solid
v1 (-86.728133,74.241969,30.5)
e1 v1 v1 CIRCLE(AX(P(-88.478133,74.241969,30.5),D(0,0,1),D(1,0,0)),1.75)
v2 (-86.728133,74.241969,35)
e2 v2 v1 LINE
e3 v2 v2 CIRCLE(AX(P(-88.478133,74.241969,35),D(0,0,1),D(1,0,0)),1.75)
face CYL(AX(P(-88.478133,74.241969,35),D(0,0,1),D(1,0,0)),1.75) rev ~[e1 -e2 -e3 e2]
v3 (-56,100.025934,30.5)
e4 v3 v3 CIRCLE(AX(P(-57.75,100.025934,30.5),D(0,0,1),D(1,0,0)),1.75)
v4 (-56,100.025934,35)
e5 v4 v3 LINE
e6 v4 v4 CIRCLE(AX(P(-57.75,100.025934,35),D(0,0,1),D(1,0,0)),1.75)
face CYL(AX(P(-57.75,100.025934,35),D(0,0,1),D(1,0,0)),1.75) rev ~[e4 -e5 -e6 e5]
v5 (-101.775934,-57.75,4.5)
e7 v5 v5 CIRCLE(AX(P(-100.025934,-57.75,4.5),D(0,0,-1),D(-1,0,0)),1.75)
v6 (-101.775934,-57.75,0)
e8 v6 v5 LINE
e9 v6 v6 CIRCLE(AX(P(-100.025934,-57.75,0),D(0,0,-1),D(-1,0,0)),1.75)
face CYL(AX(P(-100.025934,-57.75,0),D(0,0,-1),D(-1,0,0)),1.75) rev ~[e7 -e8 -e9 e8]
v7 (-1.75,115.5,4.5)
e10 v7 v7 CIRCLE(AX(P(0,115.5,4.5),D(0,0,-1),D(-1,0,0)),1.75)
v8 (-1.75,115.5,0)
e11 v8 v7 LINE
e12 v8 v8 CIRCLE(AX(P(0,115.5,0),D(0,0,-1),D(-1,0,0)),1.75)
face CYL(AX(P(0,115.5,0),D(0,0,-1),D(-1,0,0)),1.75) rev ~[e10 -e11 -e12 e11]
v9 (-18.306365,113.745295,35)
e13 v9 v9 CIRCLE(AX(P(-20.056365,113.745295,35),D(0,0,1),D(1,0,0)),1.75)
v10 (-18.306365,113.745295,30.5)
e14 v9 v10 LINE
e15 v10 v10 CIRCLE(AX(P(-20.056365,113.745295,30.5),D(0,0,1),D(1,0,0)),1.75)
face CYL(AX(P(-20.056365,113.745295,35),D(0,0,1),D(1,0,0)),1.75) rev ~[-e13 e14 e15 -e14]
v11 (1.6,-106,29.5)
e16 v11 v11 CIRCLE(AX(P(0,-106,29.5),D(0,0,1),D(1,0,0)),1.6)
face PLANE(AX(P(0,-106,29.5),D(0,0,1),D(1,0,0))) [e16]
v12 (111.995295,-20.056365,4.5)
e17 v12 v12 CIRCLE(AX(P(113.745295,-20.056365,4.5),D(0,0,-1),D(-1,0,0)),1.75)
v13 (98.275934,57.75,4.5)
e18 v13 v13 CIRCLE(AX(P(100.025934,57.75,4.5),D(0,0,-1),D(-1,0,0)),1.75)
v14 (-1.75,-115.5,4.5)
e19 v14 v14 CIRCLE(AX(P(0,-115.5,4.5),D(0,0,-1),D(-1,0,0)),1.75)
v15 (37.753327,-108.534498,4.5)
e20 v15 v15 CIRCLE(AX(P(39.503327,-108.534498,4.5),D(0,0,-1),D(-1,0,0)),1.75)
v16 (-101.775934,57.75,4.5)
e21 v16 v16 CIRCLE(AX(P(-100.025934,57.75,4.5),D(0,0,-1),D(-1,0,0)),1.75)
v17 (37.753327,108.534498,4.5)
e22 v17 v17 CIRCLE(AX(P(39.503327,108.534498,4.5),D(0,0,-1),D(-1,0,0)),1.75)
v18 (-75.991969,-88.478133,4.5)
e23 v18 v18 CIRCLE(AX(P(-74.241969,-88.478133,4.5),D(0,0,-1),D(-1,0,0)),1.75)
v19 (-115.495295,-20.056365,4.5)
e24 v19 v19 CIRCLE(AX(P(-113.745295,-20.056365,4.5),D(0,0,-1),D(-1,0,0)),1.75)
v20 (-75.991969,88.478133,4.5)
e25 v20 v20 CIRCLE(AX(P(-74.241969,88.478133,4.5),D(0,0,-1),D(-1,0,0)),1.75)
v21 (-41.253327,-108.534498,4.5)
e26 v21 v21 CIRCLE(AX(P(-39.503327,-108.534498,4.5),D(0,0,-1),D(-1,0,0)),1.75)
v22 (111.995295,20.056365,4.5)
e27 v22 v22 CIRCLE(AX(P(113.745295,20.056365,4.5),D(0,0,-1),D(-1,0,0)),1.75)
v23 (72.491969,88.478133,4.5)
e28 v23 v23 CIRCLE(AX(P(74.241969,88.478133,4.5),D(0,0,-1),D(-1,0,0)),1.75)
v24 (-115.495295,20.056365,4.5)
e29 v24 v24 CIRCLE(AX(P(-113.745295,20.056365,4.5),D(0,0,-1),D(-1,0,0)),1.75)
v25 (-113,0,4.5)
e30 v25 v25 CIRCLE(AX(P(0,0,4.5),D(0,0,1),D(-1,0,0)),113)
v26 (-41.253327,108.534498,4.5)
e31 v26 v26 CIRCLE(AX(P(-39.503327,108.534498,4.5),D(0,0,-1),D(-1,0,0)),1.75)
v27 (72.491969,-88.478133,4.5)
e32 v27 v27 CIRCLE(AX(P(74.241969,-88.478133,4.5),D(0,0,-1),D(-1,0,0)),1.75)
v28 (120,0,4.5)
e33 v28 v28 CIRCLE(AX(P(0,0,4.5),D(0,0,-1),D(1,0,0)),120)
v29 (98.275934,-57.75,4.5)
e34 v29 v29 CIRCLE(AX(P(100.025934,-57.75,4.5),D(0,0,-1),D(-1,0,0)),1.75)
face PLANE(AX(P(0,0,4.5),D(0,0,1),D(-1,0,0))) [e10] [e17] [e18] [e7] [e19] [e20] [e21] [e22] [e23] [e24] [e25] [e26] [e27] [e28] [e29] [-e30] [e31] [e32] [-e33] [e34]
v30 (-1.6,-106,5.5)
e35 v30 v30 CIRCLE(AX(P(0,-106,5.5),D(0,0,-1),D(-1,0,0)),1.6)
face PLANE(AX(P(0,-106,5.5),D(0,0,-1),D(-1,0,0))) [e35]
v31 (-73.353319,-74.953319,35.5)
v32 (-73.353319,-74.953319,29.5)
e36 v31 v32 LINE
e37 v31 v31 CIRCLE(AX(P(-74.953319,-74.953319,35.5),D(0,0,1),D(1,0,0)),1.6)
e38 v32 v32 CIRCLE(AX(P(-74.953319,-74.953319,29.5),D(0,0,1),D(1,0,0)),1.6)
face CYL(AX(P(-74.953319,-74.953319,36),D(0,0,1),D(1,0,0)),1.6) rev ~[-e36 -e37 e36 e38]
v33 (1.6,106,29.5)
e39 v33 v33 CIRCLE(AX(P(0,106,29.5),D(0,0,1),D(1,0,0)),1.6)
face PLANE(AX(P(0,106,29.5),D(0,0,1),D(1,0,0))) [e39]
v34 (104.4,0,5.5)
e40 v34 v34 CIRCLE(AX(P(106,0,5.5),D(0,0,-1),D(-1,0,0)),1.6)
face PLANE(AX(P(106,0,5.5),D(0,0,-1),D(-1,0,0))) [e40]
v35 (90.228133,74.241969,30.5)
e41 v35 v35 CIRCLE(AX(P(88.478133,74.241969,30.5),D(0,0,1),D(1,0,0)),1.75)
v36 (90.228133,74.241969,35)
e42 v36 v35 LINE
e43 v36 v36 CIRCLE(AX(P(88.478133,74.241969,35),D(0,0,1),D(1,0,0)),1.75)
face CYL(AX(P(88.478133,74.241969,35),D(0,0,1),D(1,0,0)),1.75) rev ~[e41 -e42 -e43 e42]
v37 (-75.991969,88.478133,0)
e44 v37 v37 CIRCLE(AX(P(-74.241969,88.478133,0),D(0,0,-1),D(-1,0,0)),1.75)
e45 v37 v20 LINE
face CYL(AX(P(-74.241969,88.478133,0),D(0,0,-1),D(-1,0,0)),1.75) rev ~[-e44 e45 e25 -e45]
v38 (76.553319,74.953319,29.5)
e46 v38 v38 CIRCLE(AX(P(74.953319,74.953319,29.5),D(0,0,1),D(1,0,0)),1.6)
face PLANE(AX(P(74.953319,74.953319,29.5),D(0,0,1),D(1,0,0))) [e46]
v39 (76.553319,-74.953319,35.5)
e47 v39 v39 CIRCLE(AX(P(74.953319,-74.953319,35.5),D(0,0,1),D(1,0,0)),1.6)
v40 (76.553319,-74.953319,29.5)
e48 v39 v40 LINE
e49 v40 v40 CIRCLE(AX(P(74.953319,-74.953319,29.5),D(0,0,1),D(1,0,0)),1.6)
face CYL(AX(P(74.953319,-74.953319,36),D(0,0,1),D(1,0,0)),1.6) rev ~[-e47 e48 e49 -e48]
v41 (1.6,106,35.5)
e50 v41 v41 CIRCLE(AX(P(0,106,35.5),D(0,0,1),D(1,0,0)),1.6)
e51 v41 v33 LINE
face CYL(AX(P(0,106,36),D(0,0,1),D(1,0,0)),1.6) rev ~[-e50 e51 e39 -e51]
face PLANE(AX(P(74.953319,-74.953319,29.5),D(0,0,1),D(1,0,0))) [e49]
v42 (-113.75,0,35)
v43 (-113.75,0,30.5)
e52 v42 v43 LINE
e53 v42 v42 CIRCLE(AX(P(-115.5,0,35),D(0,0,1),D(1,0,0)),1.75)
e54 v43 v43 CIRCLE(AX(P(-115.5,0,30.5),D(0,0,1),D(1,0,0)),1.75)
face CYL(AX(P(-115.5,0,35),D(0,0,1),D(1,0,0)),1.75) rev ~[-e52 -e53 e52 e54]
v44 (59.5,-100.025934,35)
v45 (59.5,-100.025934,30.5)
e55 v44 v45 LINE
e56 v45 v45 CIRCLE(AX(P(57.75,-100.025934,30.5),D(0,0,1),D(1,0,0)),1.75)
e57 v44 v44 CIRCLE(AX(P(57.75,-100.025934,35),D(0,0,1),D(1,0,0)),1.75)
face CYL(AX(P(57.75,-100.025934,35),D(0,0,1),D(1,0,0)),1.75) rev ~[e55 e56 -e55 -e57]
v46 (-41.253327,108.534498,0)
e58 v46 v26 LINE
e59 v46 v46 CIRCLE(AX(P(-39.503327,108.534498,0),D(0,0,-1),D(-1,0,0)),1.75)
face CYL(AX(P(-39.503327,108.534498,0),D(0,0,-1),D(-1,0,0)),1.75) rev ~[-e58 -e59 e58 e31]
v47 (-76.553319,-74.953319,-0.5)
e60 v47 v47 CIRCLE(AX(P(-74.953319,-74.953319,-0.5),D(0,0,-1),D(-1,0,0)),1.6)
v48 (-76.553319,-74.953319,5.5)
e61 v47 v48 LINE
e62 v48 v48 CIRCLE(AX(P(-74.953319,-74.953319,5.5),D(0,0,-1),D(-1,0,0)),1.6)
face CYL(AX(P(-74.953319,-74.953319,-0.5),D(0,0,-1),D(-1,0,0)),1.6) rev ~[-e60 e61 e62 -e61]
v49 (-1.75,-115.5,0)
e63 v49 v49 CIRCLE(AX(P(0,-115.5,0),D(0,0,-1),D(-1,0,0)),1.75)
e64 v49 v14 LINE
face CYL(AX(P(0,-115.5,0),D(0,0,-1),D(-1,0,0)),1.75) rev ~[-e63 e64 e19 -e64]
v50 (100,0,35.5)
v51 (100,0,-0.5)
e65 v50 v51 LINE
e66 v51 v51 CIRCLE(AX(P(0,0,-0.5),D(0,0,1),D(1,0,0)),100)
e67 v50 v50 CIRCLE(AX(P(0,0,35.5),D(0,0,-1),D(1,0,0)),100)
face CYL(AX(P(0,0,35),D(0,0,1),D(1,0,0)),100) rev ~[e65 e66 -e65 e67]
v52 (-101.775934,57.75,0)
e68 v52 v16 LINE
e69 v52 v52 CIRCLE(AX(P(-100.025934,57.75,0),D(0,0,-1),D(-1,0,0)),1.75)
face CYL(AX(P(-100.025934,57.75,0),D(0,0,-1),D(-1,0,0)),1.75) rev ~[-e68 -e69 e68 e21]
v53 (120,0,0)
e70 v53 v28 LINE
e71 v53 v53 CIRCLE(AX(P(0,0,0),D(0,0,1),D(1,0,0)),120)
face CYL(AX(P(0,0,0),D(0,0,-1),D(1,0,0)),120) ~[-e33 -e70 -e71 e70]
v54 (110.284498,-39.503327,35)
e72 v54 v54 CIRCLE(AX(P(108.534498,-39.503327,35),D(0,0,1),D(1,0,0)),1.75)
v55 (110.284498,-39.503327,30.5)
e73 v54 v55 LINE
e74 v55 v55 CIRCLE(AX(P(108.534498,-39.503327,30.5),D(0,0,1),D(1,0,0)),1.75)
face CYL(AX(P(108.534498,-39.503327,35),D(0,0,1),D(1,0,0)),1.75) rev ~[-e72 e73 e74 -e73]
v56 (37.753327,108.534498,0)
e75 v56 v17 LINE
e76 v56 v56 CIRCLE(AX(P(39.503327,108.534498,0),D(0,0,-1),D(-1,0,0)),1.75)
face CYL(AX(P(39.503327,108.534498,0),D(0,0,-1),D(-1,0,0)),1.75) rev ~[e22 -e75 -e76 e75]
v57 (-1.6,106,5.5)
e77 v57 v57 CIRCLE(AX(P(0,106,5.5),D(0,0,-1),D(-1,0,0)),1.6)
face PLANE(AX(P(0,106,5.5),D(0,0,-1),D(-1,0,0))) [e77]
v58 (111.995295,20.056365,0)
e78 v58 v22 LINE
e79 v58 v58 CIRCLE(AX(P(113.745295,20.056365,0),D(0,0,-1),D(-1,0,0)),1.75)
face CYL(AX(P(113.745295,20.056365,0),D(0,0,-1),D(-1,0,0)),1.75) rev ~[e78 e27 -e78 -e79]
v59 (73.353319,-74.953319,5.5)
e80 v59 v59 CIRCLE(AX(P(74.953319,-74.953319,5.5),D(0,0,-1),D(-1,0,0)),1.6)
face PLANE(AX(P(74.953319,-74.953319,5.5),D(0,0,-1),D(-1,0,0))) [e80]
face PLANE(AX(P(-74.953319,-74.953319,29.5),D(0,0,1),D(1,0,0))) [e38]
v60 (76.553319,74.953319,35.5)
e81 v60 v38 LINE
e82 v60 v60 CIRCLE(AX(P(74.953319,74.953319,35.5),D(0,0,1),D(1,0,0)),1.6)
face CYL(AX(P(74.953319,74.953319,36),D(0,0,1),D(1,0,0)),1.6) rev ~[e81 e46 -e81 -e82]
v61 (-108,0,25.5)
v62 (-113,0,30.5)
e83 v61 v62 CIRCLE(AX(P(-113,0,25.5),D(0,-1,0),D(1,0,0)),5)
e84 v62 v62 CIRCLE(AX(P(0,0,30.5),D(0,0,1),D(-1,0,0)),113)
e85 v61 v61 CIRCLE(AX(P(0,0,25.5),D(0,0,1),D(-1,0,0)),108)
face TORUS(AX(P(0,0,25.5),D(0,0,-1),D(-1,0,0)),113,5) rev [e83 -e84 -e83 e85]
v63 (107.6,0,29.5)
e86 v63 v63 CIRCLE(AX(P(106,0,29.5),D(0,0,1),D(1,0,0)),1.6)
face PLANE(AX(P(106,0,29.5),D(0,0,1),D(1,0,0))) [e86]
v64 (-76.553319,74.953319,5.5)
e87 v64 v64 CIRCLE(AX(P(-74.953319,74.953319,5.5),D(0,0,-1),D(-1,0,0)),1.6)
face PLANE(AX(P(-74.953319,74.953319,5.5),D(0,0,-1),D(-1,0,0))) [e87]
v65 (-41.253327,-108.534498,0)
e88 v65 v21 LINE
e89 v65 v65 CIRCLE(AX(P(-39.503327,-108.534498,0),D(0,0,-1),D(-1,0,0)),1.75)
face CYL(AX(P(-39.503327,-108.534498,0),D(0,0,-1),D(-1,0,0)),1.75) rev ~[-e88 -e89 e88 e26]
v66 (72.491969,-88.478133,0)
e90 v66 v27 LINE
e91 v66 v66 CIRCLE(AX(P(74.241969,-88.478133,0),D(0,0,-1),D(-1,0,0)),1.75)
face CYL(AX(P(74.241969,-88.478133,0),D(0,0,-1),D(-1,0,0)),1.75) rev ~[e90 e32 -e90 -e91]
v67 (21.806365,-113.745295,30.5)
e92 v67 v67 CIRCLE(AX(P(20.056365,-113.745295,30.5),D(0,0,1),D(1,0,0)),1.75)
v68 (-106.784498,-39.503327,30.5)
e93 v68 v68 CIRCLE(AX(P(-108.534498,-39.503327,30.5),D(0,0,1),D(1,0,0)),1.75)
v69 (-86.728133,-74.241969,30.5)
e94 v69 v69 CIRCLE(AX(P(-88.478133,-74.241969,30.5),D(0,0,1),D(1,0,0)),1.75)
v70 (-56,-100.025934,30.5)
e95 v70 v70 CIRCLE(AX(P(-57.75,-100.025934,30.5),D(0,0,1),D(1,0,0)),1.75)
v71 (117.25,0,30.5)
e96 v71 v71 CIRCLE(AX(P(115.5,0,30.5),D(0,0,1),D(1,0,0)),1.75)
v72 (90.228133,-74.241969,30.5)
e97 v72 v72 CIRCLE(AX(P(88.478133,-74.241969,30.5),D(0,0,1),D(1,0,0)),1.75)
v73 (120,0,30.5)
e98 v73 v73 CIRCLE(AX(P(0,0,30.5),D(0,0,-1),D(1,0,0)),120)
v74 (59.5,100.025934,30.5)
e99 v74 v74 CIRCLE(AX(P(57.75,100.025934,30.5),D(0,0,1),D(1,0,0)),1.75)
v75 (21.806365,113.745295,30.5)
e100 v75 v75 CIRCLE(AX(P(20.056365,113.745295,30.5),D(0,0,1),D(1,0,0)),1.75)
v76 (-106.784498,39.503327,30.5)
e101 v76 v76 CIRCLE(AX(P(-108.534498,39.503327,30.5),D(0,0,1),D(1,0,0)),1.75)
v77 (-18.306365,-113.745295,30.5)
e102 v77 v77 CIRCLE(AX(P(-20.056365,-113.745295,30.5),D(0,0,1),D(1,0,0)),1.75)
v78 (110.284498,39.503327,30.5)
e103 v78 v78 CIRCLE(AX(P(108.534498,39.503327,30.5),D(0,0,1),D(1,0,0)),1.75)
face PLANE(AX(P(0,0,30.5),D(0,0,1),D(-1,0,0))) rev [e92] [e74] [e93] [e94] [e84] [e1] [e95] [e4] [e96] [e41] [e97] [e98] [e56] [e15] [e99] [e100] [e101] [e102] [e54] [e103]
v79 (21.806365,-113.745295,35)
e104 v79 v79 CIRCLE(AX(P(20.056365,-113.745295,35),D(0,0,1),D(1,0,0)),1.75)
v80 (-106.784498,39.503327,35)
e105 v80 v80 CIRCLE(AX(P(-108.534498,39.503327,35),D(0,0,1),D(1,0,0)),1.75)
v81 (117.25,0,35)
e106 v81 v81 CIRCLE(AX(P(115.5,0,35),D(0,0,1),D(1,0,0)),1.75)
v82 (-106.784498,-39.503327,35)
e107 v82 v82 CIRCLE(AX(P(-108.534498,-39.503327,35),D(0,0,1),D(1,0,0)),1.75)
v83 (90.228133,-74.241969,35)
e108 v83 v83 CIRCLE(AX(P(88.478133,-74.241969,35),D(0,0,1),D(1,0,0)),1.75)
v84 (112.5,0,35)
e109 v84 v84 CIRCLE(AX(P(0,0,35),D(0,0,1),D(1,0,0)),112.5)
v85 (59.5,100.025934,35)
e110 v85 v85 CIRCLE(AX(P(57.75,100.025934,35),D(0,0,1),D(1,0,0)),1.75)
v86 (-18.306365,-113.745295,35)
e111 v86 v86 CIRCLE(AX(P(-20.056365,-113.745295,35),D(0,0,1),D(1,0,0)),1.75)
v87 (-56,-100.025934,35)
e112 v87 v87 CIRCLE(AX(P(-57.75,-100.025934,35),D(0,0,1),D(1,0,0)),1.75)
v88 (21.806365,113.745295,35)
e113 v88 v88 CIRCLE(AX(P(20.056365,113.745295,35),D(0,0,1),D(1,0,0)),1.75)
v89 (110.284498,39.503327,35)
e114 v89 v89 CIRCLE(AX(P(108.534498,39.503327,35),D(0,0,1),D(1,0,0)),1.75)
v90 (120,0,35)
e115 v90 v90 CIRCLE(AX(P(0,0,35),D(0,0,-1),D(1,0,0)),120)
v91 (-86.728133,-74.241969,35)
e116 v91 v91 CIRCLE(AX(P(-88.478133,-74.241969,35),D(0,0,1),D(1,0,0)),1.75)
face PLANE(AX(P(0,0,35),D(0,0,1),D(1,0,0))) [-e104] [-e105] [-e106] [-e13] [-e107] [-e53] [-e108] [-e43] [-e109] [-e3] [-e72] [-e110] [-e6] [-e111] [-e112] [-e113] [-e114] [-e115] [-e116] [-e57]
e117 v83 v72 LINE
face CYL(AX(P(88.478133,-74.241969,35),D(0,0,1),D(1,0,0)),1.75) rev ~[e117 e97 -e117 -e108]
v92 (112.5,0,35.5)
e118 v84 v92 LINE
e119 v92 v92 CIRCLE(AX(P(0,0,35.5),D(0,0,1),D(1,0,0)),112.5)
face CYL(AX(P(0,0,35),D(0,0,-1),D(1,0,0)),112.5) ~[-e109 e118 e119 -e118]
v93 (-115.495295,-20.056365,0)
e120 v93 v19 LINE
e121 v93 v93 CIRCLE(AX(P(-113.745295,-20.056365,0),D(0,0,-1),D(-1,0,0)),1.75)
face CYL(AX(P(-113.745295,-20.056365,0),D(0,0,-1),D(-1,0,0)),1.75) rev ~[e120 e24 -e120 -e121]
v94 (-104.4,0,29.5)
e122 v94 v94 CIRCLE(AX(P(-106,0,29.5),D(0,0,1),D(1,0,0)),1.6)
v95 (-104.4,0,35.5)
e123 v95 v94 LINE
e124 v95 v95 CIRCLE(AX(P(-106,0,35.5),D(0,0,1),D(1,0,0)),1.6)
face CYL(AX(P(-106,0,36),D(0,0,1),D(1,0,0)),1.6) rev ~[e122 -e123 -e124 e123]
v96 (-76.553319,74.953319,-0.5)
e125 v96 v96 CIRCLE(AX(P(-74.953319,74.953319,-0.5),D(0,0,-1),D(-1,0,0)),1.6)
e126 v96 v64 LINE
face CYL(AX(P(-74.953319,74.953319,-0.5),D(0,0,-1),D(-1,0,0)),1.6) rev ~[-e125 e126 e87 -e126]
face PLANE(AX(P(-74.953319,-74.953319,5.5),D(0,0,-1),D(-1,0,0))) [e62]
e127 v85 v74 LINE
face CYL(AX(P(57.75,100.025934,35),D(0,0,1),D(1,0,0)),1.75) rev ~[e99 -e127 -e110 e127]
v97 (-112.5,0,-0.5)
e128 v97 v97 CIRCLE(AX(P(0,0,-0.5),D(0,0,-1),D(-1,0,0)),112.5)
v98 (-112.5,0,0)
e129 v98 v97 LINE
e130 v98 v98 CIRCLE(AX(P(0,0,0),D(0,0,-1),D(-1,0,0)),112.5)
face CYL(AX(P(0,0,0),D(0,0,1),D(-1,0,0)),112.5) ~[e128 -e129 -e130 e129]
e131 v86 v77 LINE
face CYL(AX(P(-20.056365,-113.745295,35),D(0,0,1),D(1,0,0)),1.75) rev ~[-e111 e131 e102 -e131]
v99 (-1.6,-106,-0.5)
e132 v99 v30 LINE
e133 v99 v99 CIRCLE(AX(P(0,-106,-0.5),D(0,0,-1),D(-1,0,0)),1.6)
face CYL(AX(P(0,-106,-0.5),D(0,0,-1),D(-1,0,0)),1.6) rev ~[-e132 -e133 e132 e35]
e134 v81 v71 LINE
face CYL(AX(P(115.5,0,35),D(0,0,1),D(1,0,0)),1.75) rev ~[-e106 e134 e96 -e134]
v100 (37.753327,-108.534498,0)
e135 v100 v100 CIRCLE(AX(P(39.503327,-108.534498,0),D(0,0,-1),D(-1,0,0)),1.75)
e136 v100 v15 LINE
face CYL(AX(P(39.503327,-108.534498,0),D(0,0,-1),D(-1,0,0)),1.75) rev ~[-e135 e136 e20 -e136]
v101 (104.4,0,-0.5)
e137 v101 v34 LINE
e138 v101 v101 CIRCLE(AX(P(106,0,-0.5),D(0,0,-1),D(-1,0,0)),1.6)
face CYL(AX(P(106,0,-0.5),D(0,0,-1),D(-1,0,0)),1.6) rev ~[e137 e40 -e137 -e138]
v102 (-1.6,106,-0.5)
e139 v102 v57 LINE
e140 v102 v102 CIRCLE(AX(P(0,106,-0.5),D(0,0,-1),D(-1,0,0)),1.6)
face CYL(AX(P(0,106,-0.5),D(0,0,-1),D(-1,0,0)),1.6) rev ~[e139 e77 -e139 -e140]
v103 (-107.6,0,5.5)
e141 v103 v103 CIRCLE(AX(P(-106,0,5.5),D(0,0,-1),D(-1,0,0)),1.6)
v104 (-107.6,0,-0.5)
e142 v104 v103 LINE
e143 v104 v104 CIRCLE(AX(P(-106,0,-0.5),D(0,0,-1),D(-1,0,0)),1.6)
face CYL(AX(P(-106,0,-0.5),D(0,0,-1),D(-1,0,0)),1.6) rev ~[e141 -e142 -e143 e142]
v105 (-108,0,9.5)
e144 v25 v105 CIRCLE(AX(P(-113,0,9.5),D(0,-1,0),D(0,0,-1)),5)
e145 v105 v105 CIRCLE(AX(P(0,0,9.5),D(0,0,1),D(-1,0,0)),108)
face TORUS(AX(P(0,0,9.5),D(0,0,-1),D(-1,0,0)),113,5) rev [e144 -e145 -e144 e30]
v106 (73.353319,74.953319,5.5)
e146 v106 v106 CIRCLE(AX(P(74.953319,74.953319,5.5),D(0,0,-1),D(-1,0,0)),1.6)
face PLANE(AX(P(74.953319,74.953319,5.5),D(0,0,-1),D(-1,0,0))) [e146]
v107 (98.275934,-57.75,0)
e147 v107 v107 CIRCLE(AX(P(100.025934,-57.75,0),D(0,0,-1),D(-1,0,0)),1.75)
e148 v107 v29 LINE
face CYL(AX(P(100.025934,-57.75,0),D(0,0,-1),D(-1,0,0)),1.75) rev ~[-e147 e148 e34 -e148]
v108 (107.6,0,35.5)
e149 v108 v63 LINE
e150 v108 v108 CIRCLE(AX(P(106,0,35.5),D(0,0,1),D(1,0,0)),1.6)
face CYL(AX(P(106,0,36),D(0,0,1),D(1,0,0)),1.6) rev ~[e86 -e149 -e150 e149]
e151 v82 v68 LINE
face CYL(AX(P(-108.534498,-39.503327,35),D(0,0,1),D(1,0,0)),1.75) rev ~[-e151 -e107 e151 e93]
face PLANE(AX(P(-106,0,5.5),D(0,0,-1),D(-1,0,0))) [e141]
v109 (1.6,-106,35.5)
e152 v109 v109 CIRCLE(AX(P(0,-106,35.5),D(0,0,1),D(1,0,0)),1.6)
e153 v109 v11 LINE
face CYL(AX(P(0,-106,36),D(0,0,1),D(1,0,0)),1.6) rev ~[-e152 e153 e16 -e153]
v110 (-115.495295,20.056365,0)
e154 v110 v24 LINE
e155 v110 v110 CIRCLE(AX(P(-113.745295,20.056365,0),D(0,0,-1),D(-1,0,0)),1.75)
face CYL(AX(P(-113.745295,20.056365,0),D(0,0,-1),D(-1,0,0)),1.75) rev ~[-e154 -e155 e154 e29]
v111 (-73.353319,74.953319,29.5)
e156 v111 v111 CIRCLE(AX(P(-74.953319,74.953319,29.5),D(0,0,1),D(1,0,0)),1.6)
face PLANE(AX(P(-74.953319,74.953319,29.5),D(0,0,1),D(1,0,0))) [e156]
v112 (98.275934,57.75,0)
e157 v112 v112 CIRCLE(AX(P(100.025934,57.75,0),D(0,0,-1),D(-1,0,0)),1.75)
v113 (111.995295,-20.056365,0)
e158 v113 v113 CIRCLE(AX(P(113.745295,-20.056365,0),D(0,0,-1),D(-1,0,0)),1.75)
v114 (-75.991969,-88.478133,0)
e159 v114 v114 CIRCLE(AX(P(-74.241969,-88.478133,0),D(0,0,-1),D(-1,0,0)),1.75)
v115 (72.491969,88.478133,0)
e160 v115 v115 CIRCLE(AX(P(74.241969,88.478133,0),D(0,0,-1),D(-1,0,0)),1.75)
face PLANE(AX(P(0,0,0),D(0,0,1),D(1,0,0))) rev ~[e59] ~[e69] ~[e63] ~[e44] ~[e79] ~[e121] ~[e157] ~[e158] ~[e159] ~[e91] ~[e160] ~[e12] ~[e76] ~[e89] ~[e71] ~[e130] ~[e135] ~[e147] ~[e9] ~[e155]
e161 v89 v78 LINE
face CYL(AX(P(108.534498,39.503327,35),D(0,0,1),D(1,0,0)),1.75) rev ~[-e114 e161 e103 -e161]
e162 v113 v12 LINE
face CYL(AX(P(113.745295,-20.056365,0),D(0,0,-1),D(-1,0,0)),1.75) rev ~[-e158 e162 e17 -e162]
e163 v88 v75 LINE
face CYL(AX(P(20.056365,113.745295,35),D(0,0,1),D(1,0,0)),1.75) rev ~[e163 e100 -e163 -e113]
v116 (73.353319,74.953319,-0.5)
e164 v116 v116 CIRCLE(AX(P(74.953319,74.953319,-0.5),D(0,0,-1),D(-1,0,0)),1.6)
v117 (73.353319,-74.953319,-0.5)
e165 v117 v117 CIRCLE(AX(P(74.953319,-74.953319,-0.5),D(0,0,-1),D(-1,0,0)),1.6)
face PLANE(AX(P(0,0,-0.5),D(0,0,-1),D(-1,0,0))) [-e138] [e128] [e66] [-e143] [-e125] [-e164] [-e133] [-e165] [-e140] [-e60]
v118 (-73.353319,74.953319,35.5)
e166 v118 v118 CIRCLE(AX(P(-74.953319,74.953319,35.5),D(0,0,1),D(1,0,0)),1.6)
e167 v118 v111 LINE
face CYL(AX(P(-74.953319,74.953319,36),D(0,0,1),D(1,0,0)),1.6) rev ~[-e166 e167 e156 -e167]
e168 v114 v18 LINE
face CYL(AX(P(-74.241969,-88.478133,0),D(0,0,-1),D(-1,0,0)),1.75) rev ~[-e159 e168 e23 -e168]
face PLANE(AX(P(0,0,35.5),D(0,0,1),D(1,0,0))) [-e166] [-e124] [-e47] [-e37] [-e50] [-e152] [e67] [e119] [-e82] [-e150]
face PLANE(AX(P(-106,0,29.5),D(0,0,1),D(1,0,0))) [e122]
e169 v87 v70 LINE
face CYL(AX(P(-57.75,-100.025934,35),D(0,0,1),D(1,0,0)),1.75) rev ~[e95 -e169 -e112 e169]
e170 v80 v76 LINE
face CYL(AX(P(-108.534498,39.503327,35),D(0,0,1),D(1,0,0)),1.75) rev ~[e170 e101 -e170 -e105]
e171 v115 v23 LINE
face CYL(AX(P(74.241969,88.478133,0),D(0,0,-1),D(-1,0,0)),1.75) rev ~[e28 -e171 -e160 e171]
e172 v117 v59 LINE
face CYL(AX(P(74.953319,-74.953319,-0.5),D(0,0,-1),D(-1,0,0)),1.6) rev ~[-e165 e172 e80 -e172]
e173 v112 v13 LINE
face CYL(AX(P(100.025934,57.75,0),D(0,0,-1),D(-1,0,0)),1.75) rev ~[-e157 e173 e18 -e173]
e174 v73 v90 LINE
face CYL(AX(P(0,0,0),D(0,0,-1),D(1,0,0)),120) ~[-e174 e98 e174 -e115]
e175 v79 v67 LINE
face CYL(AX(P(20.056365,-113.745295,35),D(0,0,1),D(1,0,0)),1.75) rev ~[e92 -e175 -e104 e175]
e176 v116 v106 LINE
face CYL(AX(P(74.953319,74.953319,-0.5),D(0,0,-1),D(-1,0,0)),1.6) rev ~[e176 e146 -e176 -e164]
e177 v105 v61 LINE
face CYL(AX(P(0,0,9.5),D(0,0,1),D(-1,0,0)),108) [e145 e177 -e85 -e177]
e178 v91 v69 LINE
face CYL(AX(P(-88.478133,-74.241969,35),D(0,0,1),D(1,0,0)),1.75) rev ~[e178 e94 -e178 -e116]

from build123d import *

# Parameters (mm, degrees)
SKETCH_1_R               = 120
EXTRUDE_1_DEPTH          = 35
SKETCH_9_R               = 112.5
EXTRUDE_2_DEPTH          = 0.5
SKETCH_6_R               = 112.5
EXTRUDE_3_DEPTH          = 0.5
SKETCH_5_R               = 100
CUT_EXTRUDE_2_DEPTH      = 1.5
CUT_EXTRUDE_2_DEPTH_BACK = 36.5
SKETCH_4_R               = 1.75
CUT_EXTRUDE_3_DEPTH      = 5
SKETCH_2_R               = 1.75
CUT_EXTRUDE_4_DEPTH      = 5
SKETCH_10_R              = 1.6
CUT_EXTRUDE_6_DEPTH      = 6
CUT_EXTRUDE_START        = 36
SKETCH_11_R              = 1.6
CUT_EXTRUDE_7_DEPTH      = 6.5


with BuildPart() as part:
    # Эскиз1 → Бобышка-Вытянуть1 (new body)
    with BuildSketch(Plane.XY):
        Circle(SKETCH_1_R)
    extrude(amount=EXTRUDE_1_DEPTH)

    # Эскиз7 → Вырез-Повернуть2 (revolve, cut)
    with BuildSketch(Plane(origin=(0, 0, 0), x_dir=(1, 0, 0), z_dir=(0, 1, 0))):
        with BuildLine():
            Line((-120, 0), (-120, -4.5))
            Line((-120, -4.5), (-113, -4.5))
            ThreePointArc((-113, -4.5), (-109.464466094, -5.964466094), (-108, -9.5))
            Line((-108, -9.5), (-108, -25.5))
            ThreePointArc((-108, -25.5), (-109.464466094, -29.035533906), (-113, -30.5))
            Line((-113, -30.5), (-120, -30.5))
            Line((-120, -30.5), (-120, -35))
            Line((-120, -35), (-128.220660741, -35))
            Line((-128.220660741, -35), (-128.220660741, 0))
            Line((-128.220660741, 0), (-120, 0))
        make_face()
    revolve(axis=Axis((0, 0, 0), (0, 0, 1)), mode=Mode.SUBTRACT)

    # Эскиз9 → Бобышка-Вытянуть2 (add)
    with BuildSketch(Plane.XY.offset(35)):
        Circle(SKETCH_9_R)
    extrude(amount=EXTRUDE_2_DEPTH)

    # Эскиз6 → Бобышка-Вытянуть3 (add)
    with BuildSketch(Plane(origin=(0, 0, 0), x_dir=(-1, 0, 0), z_dir=(0, 0, -1))):
        Circle(SKETCH_6_R)
    extrude(amount=EXTRUDE_3_DEPTH)

    # Эскиз5 → Вырез-Вытянуть2 (cut, two sides)
    with BuildSketch(Plane.XY.offset(35)) as cut_extrude_2_sk:
        Circle(SKETCH_5_R)
    extrude(amount=CUT_EXTRUDE_2_DEPTH, mode=Mode.SUBTRACT)
    extrude(cut_extrude_2_sk.sketch, amount=-CUT_EXTRUDE_2_DEPTH_BACK, mode=Mode.SUBTRACT)

    # Эскиз4 → Вырез-Вытянуть3 (cut)
    with BuildSketch(Plane.XY.offset(35)):
        with Locations((-115.5, 0)):
            Circle(SKETCH_4_R)
        with Locations((-108.534497701, 39.503326554)):
            Circle(SKETCH_4_R)
        with Locations((-88.47813318, 74.241968919)):
            Circle(SKETCH_4_R)
        with Locations((-57.75, 100.025934137)):
            Circle(SKETCH_4_R)
        with Locations((-20.056364521, 113.745295473)):
            Circle(SKETCH_4_R)
        with Locations((20.056364521, 113.745295473)):
            Circle(SKETCH_4_R)
        with Locations((57.75, 100.025934137)):
            Circle(SKETCH_4_R)
        with Locations((88.47813318, 74.241968919)):
            Circle(SKETCH_4_R)
        with Locations((108.534497701, 39.503326554)):
            Circle(SKETCH_4_R)
        with Locations((115.5, 0)):
            Circle(SKETCH_4_R)
        with Locations((108.534497701, -39.503326554)):
            Circle(SKETCH_4_R)
        with Locations((88.47813318, -74.241968919)):
            Circle(SKETCH_4_R)
        with Locations((57.75, -100.025934137)):
            Circle(SKETCH_4_R)
        with Locations((20.056364521, -113.745295473)):
            Circle(SKETCH_4_R)
        with Locations((-20.056364521, -113.745295473)):
            Circle(SKETCH_4_R)
        with Locations((-57.75, -100.025934137)):
            Circle(SKETCH_4_R)
        with Locations((-88.47813318, -74.241968919)):
            Circle(SKETCH_4_R)
        with Locations((-108.534497701, -39.503326554)):
            Circle(SKETCH_4_R)
    extrude(amount=-CUT_EXTRUDE_3_DEPTH, mode=Mode.SUBTRACT)

    # Эскиз2 → Вырез-Вытянуть4 (cut)
    with BuildSketch(Plane(origin=(0, 0, 0), x_dir=(-1, 0, 0), z_dir=(0, 0, -1))):
        with Locations((0, 115.5)):
            Circle(SKETCH_2_R)
        with Locations((39.503326554, 108.534497701)):
            Circle(SKETCH_2_R)
        with Locations((74.241968919, 88.47813318)):
            Circle(SKETCH_2_R)
        with Locations((100.025934137, 57.75)):
            Circle(SKETCH_2_R)
        with Locations((113.745295473, 20.056364521)):
            Circle(SKETCH_2_R)
        with Locations((113.745295473, -20.056364521)):
            Circle(SKETCH_2_R)
        with Locations((100.025934137, -57.75)):
            Circle(SKETCH_2_R)
        with Locations((74.241968919, -88.47813318)):
            Circle(SKETCH_2_R)
        with Locations((39.503326554, -108.534497701)):
            Circle(SKETCH_2_R)
        with Locations((0, -115.5)):
            Circle(SKETCH_2_R)
        with Locations((-39.503326554, -108.534497701)):
            Circle(SKETCH_2_R)
        with Locations((-74.241968919, -88.47813318)):
            Circle(SKETCH_2_R)
        with Locations((-100.025934137, -57.75)):
            Circle(SKETCH_2_R)
        with Locations((-113.745295473, -20.056364521)):
            Circle(SKETCH_2_R)
        with Locations((-113.745295473, 20.056364521)):
            Circle(SKETCH_2_R)
        with Locations((-100.025934137, 57.75)):
            Circle(SKETCH_2_R)
        with Locations((-74.241968919, 88.47813318)):
            Circle(SKETCH_2_R)
        with Locations((-39.503326554, 108.534497701)):
            Circle(SKETCH_2_R)
    extrude(amount=-CUT_EXTRUDE_4_DEPTH, mode=Mode.SUBTRACT)

    # Эскиз10 → Вырез-Вытянуть6 (cut)
    with BuildSketch(Plane(origin=(0, 0, -0.5), x_dir=(-1, 0, 0), z_dir=(0, 0, -1))):
        with Locations((0, 106)):
            Circle(SKETCH_10_R)
        with Locations((74.953318806, 74.953318806)):
            Circle(SKETCH_10_R)
        with Locations((106, 0)):
            Circle(SKETCH_10_R)
        with Locations((74.953318806, -74.953318806)):
            Circle(SKETCH_10_R)
        with Locations((0, -106)):
            Circle(SKETCH_10_R)
        with Locations((-74.953318806, -74.953318806)):
            Circle(SKETCH_10_R)
        with Locations((-106, 0)):
            Circle(SKETCH_10_R)
        with Locations((-74.953318806, 74.953318806)):
            Circle(SKETCH_10_R)
    extrude(amount=-CUT_EXTRUDE_6_DEPTH, mode=Mode.SUBTRACT)

    # Эскиз11 → Вырез-Вытянуть7 (cut)
    with BuildSketch(Plane.XY.offset(CUT_EXTRUDE_START)):
        with Locations((0, 106)):
            Circle(SKETCH_11_R)
        with Locations((74.953318806, 74.953318806)):
            Circle(SKETCH_11_R)
        with Locations((106, 0)):
            Circle(SKETCH_11_R)
        with Locations((74.953318806, -74.953318806)):
            Circle(SKETCH_11_R)
        with Locations((0, -106)):
            Circle(SKETCH_11_R)
        with Locations((-74.953318806, -74.953318806)):
            Circle(SKETCH_11_R)
        with Locations((-106, 0)):
            Circle(SKETCH_11_R)
        with Locations((-74.953318806, 74.953318806)):
            Circle(SKETCH_11_R)
    extrude(amount=-CUT_EXTRUDE_7_DEPTH, mode=Mode.SUBTRACT)


solid = part.part
